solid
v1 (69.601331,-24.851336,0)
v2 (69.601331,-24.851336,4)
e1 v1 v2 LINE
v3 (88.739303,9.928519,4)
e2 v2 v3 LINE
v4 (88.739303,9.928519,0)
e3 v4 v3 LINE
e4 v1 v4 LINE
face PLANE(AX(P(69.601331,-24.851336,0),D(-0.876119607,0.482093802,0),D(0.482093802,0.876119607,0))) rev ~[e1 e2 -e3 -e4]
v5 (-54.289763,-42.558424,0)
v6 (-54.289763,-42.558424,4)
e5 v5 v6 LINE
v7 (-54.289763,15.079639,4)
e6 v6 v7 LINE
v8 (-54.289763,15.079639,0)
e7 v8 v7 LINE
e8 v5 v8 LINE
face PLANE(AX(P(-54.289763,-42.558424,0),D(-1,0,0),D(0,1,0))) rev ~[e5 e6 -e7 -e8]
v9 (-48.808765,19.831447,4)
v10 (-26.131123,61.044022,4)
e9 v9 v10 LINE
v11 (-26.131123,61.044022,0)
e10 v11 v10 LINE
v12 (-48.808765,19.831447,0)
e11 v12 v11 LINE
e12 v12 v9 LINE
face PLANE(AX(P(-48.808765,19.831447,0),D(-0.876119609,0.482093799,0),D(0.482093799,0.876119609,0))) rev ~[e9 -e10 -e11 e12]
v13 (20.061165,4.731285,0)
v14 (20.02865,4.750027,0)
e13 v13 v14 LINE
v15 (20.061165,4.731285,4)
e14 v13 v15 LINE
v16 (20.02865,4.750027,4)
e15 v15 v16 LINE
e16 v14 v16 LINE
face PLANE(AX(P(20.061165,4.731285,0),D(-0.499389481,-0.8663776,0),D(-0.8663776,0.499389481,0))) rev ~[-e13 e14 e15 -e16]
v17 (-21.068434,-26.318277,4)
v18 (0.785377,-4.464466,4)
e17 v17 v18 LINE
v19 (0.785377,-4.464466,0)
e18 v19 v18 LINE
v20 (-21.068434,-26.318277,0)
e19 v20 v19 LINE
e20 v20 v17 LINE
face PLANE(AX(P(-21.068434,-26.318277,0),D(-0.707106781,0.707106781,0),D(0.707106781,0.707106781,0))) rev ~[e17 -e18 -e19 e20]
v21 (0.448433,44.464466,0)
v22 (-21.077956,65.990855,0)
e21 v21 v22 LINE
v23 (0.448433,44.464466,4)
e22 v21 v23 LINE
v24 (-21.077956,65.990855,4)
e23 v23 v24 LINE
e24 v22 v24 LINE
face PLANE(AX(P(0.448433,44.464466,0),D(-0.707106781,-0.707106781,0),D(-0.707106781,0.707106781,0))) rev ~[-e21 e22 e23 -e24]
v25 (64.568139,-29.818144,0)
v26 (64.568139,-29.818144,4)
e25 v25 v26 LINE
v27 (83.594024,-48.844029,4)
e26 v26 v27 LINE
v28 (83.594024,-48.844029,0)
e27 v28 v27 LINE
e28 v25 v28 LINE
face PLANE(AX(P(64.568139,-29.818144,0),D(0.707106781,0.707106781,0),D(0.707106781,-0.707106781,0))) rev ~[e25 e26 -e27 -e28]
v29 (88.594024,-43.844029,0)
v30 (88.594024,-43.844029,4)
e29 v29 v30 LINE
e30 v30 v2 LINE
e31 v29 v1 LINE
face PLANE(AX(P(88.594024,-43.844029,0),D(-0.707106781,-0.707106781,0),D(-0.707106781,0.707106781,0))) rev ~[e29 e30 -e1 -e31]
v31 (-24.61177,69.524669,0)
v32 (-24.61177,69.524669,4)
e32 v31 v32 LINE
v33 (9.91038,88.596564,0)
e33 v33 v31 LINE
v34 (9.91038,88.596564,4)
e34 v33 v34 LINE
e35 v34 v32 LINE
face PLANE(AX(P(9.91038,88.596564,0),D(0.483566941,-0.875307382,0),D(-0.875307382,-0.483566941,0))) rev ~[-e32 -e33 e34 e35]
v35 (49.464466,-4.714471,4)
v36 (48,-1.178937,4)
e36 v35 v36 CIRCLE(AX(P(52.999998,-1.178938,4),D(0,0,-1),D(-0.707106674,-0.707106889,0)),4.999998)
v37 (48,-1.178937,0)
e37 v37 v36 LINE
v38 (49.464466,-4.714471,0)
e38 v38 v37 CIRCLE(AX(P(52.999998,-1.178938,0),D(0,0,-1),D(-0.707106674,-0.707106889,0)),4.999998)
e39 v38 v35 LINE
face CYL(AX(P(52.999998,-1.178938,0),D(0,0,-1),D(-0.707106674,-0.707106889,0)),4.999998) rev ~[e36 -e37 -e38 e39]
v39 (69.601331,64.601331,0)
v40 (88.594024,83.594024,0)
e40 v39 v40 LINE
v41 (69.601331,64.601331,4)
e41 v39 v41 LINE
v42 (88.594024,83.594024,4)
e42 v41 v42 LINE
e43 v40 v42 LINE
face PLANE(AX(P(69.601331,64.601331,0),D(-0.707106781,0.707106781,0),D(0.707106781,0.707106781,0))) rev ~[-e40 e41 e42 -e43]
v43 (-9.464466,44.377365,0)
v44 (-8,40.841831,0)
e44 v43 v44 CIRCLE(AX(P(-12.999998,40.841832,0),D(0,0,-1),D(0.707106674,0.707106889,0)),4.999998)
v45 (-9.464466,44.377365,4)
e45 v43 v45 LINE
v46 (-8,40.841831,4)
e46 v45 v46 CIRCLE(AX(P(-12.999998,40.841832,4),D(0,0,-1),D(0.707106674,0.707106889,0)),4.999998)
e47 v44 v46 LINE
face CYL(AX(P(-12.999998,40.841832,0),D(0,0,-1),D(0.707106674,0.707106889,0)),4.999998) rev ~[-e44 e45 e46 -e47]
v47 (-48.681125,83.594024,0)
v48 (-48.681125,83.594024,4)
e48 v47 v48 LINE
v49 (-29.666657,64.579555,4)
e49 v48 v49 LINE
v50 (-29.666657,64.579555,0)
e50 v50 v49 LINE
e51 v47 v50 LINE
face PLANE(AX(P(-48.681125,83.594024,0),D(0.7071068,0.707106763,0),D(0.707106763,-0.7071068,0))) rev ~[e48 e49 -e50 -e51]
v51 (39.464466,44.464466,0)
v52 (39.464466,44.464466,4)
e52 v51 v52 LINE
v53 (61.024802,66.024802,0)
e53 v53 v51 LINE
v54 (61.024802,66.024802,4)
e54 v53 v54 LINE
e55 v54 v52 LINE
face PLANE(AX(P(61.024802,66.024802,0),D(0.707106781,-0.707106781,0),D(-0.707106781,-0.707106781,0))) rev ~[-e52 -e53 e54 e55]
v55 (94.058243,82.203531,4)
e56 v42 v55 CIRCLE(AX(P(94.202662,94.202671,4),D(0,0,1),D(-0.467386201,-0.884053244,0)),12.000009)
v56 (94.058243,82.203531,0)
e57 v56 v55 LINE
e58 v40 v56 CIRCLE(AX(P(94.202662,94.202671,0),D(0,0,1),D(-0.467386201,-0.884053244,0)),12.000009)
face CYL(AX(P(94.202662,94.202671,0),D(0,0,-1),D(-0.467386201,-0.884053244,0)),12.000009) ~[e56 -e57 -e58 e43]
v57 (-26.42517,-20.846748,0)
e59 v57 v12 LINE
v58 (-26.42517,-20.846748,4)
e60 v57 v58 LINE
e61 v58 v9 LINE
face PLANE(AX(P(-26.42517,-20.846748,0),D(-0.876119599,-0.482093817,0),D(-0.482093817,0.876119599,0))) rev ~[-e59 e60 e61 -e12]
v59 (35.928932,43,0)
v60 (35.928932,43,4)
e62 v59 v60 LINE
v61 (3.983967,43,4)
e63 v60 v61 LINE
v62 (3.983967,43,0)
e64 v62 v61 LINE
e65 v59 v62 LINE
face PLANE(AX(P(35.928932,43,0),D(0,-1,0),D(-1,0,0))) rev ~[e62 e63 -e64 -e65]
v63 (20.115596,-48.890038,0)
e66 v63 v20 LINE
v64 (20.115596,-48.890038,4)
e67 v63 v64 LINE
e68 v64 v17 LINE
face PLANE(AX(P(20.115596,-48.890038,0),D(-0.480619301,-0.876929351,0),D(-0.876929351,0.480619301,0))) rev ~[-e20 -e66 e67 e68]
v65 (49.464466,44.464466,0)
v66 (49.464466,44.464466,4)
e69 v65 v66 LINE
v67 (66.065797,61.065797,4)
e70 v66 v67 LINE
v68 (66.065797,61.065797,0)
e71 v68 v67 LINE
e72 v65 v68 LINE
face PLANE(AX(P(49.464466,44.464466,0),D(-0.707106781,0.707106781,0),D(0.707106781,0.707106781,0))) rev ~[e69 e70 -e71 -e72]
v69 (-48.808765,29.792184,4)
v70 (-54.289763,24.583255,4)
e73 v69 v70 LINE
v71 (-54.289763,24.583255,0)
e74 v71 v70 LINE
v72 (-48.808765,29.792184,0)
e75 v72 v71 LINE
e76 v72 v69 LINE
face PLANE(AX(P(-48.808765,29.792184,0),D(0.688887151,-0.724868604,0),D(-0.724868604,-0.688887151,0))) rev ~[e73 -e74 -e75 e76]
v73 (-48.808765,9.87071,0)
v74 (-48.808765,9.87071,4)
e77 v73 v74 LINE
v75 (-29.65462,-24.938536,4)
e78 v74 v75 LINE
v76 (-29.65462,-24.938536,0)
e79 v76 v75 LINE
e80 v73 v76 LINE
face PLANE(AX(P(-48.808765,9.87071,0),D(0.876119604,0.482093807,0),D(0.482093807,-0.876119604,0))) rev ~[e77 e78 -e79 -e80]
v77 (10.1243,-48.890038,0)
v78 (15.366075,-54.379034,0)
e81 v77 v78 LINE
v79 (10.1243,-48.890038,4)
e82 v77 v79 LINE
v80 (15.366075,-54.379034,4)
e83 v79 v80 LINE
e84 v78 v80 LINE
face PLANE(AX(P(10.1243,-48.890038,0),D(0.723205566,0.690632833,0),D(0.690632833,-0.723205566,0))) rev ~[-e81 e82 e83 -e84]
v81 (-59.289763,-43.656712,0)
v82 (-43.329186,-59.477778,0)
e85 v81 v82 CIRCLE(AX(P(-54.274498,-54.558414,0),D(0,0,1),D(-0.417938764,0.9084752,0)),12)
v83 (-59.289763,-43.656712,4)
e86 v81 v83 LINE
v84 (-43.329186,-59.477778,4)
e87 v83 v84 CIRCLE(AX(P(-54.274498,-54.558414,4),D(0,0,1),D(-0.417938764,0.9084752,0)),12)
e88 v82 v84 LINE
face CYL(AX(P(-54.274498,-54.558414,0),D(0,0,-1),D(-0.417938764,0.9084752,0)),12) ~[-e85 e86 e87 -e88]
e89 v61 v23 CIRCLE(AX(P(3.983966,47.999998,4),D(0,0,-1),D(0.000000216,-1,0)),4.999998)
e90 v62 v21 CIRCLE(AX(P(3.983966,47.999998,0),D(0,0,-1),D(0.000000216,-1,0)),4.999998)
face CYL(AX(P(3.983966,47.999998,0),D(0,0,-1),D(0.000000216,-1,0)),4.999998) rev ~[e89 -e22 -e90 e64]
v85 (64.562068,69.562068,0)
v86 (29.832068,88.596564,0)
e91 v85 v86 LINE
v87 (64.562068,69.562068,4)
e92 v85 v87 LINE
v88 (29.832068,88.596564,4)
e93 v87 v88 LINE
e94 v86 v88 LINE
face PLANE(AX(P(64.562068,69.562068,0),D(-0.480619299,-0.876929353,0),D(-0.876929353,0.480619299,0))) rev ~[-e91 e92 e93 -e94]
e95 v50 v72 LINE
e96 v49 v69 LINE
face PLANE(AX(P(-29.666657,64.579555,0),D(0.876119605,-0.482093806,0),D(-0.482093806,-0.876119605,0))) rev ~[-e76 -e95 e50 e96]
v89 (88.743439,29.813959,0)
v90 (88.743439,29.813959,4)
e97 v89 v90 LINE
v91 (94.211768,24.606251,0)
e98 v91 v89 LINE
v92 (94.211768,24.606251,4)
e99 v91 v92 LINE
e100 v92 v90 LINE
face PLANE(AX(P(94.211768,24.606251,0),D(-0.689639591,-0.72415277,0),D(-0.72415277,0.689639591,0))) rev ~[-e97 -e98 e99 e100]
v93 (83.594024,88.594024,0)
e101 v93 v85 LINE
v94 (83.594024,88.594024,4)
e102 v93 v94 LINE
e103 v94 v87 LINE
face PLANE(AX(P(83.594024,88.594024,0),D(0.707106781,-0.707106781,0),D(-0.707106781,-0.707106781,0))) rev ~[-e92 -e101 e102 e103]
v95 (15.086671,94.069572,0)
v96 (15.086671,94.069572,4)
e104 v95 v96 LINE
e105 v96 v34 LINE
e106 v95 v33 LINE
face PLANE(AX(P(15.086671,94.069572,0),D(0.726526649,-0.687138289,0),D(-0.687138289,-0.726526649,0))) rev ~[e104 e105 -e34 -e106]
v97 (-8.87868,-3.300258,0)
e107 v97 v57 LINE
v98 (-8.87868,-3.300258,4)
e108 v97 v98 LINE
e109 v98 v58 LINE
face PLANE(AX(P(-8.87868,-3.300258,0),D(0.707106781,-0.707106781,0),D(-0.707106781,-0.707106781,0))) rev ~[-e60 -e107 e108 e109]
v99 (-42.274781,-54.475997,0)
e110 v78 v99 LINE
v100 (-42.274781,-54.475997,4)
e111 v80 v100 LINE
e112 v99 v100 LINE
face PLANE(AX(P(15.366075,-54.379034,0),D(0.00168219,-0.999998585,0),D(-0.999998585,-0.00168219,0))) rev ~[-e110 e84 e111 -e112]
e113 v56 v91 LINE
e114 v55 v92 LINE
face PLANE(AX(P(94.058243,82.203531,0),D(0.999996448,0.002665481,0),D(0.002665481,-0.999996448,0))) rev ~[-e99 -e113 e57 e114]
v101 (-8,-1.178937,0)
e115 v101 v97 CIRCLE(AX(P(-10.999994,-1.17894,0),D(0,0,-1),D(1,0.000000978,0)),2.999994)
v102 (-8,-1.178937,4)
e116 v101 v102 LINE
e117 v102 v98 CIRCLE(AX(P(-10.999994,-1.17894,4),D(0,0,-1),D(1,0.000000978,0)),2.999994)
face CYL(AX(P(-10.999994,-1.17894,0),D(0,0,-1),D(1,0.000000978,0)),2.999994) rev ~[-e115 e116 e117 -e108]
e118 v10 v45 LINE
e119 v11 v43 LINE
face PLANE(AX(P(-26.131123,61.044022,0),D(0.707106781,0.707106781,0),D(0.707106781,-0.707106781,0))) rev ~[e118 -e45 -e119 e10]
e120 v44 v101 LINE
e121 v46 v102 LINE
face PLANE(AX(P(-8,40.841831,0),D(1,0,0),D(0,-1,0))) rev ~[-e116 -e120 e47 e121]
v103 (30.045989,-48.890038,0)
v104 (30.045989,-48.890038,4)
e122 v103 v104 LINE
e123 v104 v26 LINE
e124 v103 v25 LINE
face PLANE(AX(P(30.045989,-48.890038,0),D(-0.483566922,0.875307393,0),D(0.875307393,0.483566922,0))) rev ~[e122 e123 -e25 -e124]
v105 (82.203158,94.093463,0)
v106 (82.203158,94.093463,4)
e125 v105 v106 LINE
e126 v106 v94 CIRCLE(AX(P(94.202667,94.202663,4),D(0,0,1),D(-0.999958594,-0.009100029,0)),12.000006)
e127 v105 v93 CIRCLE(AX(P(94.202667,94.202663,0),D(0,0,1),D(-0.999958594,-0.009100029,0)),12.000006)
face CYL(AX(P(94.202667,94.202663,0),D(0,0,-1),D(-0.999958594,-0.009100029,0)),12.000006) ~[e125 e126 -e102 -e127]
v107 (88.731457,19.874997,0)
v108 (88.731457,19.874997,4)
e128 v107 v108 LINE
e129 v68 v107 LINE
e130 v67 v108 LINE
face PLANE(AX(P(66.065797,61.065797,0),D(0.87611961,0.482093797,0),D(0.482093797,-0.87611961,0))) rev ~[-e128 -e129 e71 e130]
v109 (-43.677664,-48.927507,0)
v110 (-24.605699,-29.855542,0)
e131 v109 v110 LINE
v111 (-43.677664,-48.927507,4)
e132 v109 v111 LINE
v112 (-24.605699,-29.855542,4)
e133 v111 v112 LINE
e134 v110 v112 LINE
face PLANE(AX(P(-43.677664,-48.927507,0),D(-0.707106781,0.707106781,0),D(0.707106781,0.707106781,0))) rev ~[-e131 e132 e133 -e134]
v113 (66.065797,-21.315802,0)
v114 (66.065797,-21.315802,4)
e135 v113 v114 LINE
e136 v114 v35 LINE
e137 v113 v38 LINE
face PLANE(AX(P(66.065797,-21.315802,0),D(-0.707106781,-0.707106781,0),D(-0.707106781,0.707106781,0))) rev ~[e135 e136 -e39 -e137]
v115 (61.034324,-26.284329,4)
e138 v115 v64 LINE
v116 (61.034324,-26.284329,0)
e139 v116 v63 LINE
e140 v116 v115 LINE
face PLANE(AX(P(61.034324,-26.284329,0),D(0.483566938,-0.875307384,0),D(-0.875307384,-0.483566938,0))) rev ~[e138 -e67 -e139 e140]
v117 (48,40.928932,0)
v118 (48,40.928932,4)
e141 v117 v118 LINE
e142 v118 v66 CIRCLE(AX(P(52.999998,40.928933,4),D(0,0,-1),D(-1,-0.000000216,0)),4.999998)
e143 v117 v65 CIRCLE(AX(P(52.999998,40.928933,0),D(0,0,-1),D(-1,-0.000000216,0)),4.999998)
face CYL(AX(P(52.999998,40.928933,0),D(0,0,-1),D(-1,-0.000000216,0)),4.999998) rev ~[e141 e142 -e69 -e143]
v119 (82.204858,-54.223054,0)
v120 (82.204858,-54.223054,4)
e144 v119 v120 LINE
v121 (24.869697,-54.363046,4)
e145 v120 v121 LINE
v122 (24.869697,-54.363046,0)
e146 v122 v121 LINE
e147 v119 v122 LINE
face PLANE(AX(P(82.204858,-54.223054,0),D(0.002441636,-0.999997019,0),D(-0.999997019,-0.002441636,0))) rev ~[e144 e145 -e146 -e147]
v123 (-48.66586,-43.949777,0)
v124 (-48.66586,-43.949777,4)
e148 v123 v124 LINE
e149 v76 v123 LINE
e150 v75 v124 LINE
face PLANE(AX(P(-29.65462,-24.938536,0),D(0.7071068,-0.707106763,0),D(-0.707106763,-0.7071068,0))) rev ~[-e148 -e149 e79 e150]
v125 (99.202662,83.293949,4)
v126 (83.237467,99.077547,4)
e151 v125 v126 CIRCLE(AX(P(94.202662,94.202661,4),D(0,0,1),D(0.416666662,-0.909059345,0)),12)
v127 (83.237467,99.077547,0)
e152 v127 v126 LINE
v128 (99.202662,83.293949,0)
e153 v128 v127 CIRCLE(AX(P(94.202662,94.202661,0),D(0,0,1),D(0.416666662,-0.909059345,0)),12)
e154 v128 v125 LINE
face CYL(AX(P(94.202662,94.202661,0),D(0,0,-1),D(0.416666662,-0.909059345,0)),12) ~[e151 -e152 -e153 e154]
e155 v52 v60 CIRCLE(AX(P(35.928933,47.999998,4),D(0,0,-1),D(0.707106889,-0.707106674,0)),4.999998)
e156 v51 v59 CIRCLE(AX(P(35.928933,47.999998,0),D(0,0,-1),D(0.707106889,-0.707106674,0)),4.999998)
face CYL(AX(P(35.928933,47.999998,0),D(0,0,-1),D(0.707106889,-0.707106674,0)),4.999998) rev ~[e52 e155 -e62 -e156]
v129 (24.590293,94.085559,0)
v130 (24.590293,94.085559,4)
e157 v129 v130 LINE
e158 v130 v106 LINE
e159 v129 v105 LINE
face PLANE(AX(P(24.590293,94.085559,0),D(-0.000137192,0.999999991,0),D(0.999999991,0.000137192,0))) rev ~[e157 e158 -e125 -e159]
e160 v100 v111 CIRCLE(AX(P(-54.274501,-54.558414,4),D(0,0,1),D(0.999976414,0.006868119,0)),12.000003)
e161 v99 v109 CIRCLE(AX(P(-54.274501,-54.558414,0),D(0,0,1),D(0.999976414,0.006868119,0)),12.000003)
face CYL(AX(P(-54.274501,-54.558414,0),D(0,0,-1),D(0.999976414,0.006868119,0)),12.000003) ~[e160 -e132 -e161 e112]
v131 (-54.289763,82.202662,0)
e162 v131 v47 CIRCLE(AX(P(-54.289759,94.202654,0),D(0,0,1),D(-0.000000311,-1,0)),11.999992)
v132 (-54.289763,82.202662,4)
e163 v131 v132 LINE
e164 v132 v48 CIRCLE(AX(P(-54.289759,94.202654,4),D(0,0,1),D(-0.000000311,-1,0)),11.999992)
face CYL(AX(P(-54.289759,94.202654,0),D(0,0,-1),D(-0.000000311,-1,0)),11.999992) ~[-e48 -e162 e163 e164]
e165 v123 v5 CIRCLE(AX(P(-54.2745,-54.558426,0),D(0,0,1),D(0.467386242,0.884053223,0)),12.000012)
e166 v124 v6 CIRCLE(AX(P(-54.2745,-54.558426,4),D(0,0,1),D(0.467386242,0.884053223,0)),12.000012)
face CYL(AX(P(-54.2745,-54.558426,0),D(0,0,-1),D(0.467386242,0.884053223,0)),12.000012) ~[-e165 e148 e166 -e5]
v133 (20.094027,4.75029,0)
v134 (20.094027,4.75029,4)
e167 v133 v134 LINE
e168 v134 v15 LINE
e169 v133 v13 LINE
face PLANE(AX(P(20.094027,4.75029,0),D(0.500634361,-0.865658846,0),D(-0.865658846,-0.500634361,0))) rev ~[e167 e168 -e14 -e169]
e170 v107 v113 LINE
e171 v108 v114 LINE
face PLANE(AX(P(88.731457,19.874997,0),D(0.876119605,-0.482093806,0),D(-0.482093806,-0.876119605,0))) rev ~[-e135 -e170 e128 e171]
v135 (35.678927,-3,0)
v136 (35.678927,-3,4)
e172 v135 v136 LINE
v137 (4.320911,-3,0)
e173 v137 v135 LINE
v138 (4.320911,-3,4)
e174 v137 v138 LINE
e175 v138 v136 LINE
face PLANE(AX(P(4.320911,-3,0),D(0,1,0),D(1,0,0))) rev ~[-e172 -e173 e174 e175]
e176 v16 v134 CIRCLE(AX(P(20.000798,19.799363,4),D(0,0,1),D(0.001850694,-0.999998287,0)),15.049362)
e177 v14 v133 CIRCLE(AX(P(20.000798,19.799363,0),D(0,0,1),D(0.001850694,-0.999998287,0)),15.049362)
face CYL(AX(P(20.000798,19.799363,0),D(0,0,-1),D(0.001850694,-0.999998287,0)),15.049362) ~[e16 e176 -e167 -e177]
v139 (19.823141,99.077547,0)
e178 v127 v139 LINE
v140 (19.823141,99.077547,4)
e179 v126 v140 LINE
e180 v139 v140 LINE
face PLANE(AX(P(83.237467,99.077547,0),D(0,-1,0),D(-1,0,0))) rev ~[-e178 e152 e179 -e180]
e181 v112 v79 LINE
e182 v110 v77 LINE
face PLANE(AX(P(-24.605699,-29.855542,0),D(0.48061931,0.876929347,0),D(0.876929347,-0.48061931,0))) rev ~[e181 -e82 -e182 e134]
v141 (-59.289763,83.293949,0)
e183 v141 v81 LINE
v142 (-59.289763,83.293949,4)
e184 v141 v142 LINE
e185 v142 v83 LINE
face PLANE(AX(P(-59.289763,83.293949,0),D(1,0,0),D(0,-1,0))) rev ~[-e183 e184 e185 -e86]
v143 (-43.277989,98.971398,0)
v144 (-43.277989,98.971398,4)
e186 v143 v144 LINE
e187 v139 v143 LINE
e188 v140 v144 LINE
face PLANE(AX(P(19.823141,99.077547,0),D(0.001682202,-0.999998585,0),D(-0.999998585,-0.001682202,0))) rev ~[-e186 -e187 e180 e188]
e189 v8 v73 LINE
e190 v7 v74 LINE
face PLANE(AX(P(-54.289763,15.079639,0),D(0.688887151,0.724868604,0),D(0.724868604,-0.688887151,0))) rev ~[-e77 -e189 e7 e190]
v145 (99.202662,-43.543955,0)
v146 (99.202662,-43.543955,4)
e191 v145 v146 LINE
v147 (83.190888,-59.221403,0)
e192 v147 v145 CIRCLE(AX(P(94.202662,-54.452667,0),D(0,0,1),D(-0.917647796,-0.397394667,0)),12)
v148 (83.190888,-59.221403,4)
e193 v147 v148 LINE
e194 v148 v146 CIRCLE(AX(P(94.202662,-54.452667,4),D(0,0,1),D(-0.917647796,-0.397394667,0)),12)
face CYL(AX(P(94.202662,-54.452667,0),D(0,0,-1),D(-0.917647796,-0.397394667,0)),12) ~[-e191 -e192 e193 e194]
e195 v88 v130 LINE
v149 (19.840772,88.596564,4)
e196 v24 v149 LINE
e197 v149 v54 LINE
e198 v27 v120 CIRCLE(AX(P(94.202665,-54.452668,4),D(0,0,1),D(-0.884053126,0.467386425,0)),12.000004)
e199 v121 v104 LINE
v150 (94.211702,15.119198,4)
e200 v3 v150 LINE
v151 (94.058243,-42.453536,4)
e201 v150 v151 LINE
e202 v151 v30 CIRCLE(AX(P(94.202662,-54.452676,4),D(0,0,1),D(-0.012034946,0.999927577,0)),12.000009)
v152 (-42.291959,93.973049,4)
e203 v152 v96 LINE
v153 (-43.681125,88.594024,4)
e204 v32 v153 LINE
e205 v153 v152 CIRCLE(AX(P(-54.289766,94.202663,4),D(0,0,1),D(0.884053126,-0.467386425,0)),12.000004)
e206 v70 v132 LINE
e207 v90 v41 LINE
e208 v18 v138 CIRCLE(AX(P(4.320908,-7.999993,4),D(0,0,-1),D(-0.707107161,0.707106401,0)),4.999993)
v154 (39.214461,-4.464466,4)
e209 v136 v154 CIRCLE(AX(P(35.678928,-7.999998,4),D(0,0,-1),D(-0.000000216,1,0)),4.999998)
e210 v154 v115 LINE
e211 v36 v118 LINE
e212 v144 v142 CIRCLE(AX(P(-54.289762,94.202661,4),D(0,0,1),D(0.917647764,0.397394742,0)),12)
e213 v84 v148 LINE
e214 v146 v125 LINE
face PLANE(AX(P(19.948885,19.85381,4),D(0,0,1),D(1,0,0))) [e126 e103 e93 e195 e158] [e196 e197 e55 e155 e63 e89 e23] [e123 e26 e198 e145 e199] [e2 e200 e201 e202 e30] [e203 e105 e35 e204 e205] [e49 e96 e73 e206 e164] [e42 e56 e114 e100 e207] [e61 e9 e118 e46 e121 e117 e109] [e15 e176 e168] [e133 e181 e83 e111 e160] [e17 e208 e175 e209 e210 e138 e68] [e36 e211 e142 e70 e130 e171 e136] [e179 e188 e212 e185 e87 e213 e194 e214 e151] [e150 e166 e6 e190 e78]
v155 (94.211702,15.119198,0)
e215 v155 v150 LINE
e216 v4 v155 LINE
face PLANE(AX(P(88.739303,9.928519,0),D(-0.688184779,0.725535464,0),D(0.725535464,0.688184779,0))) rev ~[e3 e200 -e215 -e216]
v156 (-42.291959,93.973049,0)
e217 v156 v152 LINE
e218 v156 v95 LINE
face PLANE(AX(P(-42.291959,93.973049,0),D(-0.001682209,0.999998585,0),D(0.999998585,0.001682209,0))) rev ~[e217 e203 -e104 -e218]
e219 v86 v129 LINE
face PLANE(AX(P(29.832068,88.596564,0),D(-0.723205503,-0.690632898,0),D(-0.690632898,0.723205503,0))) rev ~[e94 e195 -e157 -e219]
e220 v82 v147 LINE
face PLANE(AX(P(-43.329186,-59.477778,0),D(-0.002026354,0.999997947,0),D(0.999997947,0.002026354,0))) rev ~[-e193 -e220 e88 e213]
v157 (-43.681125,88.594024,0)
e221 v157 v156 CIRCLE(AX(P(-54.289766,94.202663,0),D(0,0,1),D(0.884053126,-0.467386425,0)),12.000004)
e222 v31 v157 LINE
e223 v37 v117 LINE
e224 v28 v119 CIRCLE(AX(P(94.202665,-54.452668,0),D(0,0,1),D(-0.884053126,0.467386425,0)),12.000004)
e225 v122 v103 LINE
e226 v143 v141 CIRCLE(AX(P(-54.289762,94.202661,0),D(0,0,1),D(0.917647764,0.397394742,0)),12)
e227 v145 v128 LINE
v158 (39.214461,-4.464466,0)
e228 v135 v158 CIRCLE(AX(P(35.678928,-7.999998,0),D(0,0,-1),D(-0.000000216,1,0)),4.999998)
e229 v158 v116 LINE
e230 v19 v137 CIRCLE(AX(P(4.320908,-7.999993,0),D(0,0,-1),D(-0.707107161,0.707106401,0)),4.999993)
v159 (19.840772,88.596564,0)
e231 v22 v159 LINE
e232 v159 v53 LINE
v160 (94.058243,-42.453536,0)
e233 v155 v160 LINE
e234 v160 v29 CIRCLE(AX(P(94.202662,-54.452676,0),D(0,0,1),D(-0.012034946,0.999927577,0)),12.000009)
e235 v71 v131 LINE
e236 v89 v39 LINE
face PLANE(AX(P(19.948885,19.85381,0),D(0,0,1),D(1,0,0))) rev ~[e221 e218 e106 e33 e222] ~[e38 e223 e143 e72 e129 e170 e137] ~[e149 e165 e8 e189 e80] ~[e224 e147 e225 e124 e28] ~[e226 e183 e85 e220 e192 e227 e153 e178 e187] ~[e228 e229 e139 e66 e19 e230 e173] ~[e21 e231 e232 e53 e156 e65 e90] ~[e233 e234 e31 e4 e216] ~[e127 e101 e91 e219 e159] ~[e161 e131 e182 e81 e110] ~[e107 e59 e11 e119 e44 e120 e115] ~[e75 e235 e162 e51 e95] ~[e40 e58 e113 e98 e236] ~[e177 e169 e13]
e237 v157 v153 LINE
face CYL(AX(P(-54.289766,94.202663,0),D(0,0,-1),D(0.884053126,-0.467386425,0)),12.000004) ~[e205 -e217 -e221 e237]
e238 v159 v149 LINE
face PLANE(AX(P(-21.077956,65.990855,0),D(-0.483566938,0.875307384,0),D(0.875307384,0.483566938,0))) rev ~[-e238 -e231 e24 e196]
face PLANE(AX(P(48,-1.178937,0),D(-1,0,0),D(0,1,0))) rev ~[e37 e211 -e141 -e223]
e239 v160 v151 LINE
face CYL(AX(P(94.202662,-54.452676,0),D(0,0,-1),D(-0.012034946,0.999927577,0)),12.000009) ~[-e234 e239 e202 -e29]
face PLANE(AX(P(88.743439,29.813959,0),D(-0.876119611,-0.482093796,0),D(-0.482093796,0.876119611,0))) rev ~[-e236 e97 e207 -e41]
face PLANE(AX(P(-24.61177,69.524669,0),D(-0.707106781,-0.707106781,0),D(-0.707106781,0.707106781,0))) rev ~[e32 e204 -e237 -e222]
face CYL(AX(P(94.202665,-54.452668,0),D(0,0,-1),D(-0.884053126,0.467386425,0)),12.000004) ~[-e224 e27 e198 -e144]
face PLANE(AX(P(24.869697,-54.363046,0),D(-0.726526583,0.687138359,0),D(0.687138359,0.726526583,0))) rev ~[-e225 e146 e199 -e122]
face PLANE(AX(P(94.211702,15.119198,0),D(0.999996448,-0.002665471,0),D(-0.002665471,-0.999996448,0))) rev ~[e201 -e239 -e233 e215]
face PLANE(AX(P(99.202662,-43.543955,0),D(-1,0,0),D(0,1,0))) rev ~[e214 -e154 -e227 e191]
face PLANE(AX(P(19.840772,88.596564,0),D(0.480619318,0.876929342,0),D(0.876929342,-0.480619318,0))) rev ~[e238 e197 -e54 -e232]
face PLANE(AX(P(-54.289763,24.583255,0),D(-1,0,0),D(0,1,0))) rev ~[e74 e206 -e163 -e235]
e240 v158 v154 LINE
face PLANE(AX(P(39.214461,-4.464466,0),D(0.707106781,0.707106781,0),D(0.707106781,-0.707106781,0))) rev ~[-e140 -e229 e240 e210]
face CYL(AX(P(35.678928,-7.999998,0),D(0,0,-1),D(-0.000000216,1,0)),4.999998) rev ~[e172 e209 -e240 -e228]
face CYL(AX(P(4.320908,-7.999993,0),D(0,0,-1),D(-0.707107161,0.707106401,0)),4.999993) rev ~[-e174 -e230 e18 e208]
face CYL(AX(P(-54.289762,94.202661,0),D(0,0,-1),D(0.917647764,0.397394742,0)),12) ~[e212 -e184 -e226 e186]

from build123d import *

# Parameters (mm, degrees)
F1_DEPTH = 4


with BuildPart() as f1:
    # F0 (on Top) → F1 (new body)
    with BuildSketch(Plane.XY):
        with BuildLine():
            Line((99.202662, 19.896773), (99.202662, 83.293949))
            ThreePointArc((99.202662, 83.293949), (102.639271, 102.736338), (83.237467, 99.077547))
            Line((83.237467, 99.077547), (19.823141, 99.077547))
            Line((19.823141, 99.077547), (-43.277989, 98.971398))
            ThreePointArc((-43.277989, 98.971398), (-62.685056, 102.776986), (-59.289763, 83.293949))
            Line((-59.289763, 83.293949), (-59.289763, 19.831447))
            Line((-59.289763, 19.831447), (-59.289763, -43.656712))
            ThreePointArc((-59.289763, -43.656712), (-62.72245, -63.080861), (-43.329186, -59.477778))
            Line((-43.329186, -59.477778), (83.190888, -59.221403))
            ThreePointArc((83.190888, -59.221403), (102.597955, -63.026992), (99.202662, -43.543955))
            Line((99.202662, -43.543955), (99.202662, 19.853222))
            Line((99.202662, 19.853222), (99.202662, 19.896773))
        make_face()
        with BuildLine():
            ThreePointArc((-42.274781, -54.475997), (-42.640605, -51.616895), (-43.677664, -48.927507))
            Line((-43.677664, -48.927507), (-24.605699, -29.855542))
            Line((-24.605699, -29.855542), (10.1243, -48.890038))
            Line((10.1243, -48.890038), (15.366075, -54.379034))
            Line((15.366075, -54.379034), (-42.274781, -54.475997))
        make_face(mode=Mode.SUBTRACT)
        with BuildLine():
            Line((-29.65462, -24.938536), (-48.66586, -43.949777))
            ThreePointArc((-48.66586, -43.949777), (-51.392585, -42.909613), (-54.289763, -42.558424))
            Line((-54.289763, -42.558424), (-54.289763, -42.539768))
            Line((-54.289763, -42.539768), (-54.289763, 15.079639))
            Line((-54.289763, 15.079639), (-48.808765, 9.87071))
            Line((-48.808765, 9.87071), (-29.65462, -24.938536))
        make_face(mode=Mode.SUBTRACT)
        with BuildLine():
            Line((20.115596, -48.890038), (-21.068434, -26.318277))
            Line((-21.068434, -26.318277), (0.785377, -4.464466))
            ThreePointArc((0.785377, -4.464466), (2.407493, -3.380602), (4.320911, -3))
            Line((4.320911, -3), (35.678927, -3))
            ThreePointArc((35.678927, -3), (37.592344, -3.380602), (39.214461, -4.464466))
            Line((39.214461, -4.464466), (61.034324, -26.284329))
            Line((61.034324, -26.284329), (20.115596, -48.890038))
        make_face(mode=Mode.SUBTRACT)
        with BuildLine():
            Line((64.568139, -29.818144), (83.594024, -48.844029))
            ThreePointArc((83.594024, -48.844029), (82.583872, -51.452044), (82.204858, -54.223054))
            Line((82.204858, -54.223054), (24.869697, -54.363046))
            Line((24.869697, -54.363046), (30.045989, -48.890038))
            Line((30.045989, -48.890038), (64.568139, -29.818144))
        make_face(mode=Mode.SUBTRACT)
        with BuildLine():
            Line((20.061165, 4.731285), (20.02865, 4.750027))
            ThreePointArc((20.02865, 4.750027), (20.061339, 4.750123), (20.094027, 4.75029))
            Line((20.094027, 4.75029), (20.061165, 4.731285))
        make_face(mode=Mode.SUBTRACT)
        with BuildLine():
            ThreePointArc((94.058243, -42.453536), (91.243307, -42.823298), (88.594024, -43.844029))
            Line((88.594024, -43.844029), (69.601331, -24.851336))
            Line((69.601331, -24.851336), (88.739303, 9.928519))
            Line((88.739303, 9.928519), (94.211702, 15.119198))
            Line((94.211702, 15.119198), (94.058243, -42.453536))
        make_face(mode=Mode.SUBTRACT)
        with BuildLine():
            Line((-8.87868, -3.300258), (-26.42517, -20.846748))
            Line((-26.42517, -20.846748), (-48.808765, 19.831447))
            Line((-48.808765, 19.831447), (-26.131123, 61.044022))
            Line((-26.131123, 61.044022), (-9.464466, 44.377365))
            ThreePointArc((-9.464466, 44.377365), (-8.380602, 42.755248), (-8, 40.841831))
            Line((-8, 40.841831), (-8, -1.178937))
            ThreePointArc((-8, -1.178937), (-8.228361, -2.326988), (-8.87868, -3.300258))
        make_face(mode=Mode.SUBTRACT)
        with BuildLine():
            Line((-48.681125, 83.594024), (-29.666657, 64.579555))
            Line((-29.666657, 64.579555), (-48.808765, 29.792184))
            Line((-48.808765, 29.792184), (-54.289763, 24.583255))
            Line((-54.289763, 24.583255), (-54.289763, 82.202662))
            ThreePointArc((-54.289763, 82.202662), (-51.400442, 82.555695), (-48.681125, 83.594024))
        make_face(mode=Mode.SUBTRACT)
        with BuildLine():
            Line((9.91038, 88.596564), (-24.61177, 69.524669))
            Line((-24.61177, 69.524669), (-43.681125, 88.594024))
            ThreePointArc((-43.681125, 88.594024), (-42.670973, 91.202039), (-42.291959, 93.973049))
            Line((-42.291959, 93.973049), (15.086671, 94.069572))
            Line((15.086671, 94.069572), (9.91038, 88.596564))
        make_face(mode=Mode.SUBTRACT)
        with BuildLine():
            Line((49.464466, 44.464466), (66.065797, 61.065797))
            Line((66.065797, 61.065797), (88.731457, 19.874997))
            Line((88.731457, 19.874997), (66.065797, -21.315802))
            Line((66.065797, -21.315802), (49.464466, -4.714471))
            ThreePointArc((49.464466, -4.714471), (48.380602, -3.092354), (48, -1.178937))
            Line((48, -1.178937), (48, 40.928932))
            ThreePointArc((48, 40.928932), (48.380602, 42.842349), (49.464466, 44.464466))
        make_face(mode=Mode.SUBTRACT)
        with BuildLine():
            Line((69.601331, 64.601331), (88.594024, 83.594024))
            ThreePointArc((88.594024, 83.594024), (91.243307, 82.573293), (94.058243, 82.203531))
            Line((94.058243, 82.203531), (94.211768, 24.606251))
            Line((94.211768, 24.606251), (88.743439, 29.813959))
            Line((88.743439, 29.813959), (69.601331, 64.601331))
        make_face(mode=Mode.SUBTRACT)
        with BuildLine():
            Line((19.840772, 88.596564), (61.024802, 66.024802))
            Line((61.024802, 66.024802), (39.464466, 44.464466))
            ThreePointArc((39.464466, 44.464466), (37.842349, 43.380602), (35.928932, 43))
            Line((35.928932, 43), (3.983967, 43))
            ThreePointArc((3.983967, 43), (2.07055, 43.380602), (0.448433, 44.464466))
            Line((0.448433, 44.464466), (-21.077956, 65.990855))
            Line((-21.077956, 65.990855), (19.840772, 88.596564))
        make_face(mode=Mode.SUBTRACT)
        with BuildLine():
            ThreePointArc((82.203158, 94.093463), (82.568962, 91.260377), (83.594024, 88.594024))
            Line((83.594024, 88.594024), (64.562068, 69.562068))
            Line((64.562068, 69.562068), (29.832068, 88.596564))
            Line((29.832068, 88.596564), (24.590293, 94.085559))
            Line((24.590293, 94.085559), (82.203158, 94.093463))
        make_face(mode=Mode.SUBTRACT)
    extrude(amount=F1_DEPTH)


solid = f1.part
